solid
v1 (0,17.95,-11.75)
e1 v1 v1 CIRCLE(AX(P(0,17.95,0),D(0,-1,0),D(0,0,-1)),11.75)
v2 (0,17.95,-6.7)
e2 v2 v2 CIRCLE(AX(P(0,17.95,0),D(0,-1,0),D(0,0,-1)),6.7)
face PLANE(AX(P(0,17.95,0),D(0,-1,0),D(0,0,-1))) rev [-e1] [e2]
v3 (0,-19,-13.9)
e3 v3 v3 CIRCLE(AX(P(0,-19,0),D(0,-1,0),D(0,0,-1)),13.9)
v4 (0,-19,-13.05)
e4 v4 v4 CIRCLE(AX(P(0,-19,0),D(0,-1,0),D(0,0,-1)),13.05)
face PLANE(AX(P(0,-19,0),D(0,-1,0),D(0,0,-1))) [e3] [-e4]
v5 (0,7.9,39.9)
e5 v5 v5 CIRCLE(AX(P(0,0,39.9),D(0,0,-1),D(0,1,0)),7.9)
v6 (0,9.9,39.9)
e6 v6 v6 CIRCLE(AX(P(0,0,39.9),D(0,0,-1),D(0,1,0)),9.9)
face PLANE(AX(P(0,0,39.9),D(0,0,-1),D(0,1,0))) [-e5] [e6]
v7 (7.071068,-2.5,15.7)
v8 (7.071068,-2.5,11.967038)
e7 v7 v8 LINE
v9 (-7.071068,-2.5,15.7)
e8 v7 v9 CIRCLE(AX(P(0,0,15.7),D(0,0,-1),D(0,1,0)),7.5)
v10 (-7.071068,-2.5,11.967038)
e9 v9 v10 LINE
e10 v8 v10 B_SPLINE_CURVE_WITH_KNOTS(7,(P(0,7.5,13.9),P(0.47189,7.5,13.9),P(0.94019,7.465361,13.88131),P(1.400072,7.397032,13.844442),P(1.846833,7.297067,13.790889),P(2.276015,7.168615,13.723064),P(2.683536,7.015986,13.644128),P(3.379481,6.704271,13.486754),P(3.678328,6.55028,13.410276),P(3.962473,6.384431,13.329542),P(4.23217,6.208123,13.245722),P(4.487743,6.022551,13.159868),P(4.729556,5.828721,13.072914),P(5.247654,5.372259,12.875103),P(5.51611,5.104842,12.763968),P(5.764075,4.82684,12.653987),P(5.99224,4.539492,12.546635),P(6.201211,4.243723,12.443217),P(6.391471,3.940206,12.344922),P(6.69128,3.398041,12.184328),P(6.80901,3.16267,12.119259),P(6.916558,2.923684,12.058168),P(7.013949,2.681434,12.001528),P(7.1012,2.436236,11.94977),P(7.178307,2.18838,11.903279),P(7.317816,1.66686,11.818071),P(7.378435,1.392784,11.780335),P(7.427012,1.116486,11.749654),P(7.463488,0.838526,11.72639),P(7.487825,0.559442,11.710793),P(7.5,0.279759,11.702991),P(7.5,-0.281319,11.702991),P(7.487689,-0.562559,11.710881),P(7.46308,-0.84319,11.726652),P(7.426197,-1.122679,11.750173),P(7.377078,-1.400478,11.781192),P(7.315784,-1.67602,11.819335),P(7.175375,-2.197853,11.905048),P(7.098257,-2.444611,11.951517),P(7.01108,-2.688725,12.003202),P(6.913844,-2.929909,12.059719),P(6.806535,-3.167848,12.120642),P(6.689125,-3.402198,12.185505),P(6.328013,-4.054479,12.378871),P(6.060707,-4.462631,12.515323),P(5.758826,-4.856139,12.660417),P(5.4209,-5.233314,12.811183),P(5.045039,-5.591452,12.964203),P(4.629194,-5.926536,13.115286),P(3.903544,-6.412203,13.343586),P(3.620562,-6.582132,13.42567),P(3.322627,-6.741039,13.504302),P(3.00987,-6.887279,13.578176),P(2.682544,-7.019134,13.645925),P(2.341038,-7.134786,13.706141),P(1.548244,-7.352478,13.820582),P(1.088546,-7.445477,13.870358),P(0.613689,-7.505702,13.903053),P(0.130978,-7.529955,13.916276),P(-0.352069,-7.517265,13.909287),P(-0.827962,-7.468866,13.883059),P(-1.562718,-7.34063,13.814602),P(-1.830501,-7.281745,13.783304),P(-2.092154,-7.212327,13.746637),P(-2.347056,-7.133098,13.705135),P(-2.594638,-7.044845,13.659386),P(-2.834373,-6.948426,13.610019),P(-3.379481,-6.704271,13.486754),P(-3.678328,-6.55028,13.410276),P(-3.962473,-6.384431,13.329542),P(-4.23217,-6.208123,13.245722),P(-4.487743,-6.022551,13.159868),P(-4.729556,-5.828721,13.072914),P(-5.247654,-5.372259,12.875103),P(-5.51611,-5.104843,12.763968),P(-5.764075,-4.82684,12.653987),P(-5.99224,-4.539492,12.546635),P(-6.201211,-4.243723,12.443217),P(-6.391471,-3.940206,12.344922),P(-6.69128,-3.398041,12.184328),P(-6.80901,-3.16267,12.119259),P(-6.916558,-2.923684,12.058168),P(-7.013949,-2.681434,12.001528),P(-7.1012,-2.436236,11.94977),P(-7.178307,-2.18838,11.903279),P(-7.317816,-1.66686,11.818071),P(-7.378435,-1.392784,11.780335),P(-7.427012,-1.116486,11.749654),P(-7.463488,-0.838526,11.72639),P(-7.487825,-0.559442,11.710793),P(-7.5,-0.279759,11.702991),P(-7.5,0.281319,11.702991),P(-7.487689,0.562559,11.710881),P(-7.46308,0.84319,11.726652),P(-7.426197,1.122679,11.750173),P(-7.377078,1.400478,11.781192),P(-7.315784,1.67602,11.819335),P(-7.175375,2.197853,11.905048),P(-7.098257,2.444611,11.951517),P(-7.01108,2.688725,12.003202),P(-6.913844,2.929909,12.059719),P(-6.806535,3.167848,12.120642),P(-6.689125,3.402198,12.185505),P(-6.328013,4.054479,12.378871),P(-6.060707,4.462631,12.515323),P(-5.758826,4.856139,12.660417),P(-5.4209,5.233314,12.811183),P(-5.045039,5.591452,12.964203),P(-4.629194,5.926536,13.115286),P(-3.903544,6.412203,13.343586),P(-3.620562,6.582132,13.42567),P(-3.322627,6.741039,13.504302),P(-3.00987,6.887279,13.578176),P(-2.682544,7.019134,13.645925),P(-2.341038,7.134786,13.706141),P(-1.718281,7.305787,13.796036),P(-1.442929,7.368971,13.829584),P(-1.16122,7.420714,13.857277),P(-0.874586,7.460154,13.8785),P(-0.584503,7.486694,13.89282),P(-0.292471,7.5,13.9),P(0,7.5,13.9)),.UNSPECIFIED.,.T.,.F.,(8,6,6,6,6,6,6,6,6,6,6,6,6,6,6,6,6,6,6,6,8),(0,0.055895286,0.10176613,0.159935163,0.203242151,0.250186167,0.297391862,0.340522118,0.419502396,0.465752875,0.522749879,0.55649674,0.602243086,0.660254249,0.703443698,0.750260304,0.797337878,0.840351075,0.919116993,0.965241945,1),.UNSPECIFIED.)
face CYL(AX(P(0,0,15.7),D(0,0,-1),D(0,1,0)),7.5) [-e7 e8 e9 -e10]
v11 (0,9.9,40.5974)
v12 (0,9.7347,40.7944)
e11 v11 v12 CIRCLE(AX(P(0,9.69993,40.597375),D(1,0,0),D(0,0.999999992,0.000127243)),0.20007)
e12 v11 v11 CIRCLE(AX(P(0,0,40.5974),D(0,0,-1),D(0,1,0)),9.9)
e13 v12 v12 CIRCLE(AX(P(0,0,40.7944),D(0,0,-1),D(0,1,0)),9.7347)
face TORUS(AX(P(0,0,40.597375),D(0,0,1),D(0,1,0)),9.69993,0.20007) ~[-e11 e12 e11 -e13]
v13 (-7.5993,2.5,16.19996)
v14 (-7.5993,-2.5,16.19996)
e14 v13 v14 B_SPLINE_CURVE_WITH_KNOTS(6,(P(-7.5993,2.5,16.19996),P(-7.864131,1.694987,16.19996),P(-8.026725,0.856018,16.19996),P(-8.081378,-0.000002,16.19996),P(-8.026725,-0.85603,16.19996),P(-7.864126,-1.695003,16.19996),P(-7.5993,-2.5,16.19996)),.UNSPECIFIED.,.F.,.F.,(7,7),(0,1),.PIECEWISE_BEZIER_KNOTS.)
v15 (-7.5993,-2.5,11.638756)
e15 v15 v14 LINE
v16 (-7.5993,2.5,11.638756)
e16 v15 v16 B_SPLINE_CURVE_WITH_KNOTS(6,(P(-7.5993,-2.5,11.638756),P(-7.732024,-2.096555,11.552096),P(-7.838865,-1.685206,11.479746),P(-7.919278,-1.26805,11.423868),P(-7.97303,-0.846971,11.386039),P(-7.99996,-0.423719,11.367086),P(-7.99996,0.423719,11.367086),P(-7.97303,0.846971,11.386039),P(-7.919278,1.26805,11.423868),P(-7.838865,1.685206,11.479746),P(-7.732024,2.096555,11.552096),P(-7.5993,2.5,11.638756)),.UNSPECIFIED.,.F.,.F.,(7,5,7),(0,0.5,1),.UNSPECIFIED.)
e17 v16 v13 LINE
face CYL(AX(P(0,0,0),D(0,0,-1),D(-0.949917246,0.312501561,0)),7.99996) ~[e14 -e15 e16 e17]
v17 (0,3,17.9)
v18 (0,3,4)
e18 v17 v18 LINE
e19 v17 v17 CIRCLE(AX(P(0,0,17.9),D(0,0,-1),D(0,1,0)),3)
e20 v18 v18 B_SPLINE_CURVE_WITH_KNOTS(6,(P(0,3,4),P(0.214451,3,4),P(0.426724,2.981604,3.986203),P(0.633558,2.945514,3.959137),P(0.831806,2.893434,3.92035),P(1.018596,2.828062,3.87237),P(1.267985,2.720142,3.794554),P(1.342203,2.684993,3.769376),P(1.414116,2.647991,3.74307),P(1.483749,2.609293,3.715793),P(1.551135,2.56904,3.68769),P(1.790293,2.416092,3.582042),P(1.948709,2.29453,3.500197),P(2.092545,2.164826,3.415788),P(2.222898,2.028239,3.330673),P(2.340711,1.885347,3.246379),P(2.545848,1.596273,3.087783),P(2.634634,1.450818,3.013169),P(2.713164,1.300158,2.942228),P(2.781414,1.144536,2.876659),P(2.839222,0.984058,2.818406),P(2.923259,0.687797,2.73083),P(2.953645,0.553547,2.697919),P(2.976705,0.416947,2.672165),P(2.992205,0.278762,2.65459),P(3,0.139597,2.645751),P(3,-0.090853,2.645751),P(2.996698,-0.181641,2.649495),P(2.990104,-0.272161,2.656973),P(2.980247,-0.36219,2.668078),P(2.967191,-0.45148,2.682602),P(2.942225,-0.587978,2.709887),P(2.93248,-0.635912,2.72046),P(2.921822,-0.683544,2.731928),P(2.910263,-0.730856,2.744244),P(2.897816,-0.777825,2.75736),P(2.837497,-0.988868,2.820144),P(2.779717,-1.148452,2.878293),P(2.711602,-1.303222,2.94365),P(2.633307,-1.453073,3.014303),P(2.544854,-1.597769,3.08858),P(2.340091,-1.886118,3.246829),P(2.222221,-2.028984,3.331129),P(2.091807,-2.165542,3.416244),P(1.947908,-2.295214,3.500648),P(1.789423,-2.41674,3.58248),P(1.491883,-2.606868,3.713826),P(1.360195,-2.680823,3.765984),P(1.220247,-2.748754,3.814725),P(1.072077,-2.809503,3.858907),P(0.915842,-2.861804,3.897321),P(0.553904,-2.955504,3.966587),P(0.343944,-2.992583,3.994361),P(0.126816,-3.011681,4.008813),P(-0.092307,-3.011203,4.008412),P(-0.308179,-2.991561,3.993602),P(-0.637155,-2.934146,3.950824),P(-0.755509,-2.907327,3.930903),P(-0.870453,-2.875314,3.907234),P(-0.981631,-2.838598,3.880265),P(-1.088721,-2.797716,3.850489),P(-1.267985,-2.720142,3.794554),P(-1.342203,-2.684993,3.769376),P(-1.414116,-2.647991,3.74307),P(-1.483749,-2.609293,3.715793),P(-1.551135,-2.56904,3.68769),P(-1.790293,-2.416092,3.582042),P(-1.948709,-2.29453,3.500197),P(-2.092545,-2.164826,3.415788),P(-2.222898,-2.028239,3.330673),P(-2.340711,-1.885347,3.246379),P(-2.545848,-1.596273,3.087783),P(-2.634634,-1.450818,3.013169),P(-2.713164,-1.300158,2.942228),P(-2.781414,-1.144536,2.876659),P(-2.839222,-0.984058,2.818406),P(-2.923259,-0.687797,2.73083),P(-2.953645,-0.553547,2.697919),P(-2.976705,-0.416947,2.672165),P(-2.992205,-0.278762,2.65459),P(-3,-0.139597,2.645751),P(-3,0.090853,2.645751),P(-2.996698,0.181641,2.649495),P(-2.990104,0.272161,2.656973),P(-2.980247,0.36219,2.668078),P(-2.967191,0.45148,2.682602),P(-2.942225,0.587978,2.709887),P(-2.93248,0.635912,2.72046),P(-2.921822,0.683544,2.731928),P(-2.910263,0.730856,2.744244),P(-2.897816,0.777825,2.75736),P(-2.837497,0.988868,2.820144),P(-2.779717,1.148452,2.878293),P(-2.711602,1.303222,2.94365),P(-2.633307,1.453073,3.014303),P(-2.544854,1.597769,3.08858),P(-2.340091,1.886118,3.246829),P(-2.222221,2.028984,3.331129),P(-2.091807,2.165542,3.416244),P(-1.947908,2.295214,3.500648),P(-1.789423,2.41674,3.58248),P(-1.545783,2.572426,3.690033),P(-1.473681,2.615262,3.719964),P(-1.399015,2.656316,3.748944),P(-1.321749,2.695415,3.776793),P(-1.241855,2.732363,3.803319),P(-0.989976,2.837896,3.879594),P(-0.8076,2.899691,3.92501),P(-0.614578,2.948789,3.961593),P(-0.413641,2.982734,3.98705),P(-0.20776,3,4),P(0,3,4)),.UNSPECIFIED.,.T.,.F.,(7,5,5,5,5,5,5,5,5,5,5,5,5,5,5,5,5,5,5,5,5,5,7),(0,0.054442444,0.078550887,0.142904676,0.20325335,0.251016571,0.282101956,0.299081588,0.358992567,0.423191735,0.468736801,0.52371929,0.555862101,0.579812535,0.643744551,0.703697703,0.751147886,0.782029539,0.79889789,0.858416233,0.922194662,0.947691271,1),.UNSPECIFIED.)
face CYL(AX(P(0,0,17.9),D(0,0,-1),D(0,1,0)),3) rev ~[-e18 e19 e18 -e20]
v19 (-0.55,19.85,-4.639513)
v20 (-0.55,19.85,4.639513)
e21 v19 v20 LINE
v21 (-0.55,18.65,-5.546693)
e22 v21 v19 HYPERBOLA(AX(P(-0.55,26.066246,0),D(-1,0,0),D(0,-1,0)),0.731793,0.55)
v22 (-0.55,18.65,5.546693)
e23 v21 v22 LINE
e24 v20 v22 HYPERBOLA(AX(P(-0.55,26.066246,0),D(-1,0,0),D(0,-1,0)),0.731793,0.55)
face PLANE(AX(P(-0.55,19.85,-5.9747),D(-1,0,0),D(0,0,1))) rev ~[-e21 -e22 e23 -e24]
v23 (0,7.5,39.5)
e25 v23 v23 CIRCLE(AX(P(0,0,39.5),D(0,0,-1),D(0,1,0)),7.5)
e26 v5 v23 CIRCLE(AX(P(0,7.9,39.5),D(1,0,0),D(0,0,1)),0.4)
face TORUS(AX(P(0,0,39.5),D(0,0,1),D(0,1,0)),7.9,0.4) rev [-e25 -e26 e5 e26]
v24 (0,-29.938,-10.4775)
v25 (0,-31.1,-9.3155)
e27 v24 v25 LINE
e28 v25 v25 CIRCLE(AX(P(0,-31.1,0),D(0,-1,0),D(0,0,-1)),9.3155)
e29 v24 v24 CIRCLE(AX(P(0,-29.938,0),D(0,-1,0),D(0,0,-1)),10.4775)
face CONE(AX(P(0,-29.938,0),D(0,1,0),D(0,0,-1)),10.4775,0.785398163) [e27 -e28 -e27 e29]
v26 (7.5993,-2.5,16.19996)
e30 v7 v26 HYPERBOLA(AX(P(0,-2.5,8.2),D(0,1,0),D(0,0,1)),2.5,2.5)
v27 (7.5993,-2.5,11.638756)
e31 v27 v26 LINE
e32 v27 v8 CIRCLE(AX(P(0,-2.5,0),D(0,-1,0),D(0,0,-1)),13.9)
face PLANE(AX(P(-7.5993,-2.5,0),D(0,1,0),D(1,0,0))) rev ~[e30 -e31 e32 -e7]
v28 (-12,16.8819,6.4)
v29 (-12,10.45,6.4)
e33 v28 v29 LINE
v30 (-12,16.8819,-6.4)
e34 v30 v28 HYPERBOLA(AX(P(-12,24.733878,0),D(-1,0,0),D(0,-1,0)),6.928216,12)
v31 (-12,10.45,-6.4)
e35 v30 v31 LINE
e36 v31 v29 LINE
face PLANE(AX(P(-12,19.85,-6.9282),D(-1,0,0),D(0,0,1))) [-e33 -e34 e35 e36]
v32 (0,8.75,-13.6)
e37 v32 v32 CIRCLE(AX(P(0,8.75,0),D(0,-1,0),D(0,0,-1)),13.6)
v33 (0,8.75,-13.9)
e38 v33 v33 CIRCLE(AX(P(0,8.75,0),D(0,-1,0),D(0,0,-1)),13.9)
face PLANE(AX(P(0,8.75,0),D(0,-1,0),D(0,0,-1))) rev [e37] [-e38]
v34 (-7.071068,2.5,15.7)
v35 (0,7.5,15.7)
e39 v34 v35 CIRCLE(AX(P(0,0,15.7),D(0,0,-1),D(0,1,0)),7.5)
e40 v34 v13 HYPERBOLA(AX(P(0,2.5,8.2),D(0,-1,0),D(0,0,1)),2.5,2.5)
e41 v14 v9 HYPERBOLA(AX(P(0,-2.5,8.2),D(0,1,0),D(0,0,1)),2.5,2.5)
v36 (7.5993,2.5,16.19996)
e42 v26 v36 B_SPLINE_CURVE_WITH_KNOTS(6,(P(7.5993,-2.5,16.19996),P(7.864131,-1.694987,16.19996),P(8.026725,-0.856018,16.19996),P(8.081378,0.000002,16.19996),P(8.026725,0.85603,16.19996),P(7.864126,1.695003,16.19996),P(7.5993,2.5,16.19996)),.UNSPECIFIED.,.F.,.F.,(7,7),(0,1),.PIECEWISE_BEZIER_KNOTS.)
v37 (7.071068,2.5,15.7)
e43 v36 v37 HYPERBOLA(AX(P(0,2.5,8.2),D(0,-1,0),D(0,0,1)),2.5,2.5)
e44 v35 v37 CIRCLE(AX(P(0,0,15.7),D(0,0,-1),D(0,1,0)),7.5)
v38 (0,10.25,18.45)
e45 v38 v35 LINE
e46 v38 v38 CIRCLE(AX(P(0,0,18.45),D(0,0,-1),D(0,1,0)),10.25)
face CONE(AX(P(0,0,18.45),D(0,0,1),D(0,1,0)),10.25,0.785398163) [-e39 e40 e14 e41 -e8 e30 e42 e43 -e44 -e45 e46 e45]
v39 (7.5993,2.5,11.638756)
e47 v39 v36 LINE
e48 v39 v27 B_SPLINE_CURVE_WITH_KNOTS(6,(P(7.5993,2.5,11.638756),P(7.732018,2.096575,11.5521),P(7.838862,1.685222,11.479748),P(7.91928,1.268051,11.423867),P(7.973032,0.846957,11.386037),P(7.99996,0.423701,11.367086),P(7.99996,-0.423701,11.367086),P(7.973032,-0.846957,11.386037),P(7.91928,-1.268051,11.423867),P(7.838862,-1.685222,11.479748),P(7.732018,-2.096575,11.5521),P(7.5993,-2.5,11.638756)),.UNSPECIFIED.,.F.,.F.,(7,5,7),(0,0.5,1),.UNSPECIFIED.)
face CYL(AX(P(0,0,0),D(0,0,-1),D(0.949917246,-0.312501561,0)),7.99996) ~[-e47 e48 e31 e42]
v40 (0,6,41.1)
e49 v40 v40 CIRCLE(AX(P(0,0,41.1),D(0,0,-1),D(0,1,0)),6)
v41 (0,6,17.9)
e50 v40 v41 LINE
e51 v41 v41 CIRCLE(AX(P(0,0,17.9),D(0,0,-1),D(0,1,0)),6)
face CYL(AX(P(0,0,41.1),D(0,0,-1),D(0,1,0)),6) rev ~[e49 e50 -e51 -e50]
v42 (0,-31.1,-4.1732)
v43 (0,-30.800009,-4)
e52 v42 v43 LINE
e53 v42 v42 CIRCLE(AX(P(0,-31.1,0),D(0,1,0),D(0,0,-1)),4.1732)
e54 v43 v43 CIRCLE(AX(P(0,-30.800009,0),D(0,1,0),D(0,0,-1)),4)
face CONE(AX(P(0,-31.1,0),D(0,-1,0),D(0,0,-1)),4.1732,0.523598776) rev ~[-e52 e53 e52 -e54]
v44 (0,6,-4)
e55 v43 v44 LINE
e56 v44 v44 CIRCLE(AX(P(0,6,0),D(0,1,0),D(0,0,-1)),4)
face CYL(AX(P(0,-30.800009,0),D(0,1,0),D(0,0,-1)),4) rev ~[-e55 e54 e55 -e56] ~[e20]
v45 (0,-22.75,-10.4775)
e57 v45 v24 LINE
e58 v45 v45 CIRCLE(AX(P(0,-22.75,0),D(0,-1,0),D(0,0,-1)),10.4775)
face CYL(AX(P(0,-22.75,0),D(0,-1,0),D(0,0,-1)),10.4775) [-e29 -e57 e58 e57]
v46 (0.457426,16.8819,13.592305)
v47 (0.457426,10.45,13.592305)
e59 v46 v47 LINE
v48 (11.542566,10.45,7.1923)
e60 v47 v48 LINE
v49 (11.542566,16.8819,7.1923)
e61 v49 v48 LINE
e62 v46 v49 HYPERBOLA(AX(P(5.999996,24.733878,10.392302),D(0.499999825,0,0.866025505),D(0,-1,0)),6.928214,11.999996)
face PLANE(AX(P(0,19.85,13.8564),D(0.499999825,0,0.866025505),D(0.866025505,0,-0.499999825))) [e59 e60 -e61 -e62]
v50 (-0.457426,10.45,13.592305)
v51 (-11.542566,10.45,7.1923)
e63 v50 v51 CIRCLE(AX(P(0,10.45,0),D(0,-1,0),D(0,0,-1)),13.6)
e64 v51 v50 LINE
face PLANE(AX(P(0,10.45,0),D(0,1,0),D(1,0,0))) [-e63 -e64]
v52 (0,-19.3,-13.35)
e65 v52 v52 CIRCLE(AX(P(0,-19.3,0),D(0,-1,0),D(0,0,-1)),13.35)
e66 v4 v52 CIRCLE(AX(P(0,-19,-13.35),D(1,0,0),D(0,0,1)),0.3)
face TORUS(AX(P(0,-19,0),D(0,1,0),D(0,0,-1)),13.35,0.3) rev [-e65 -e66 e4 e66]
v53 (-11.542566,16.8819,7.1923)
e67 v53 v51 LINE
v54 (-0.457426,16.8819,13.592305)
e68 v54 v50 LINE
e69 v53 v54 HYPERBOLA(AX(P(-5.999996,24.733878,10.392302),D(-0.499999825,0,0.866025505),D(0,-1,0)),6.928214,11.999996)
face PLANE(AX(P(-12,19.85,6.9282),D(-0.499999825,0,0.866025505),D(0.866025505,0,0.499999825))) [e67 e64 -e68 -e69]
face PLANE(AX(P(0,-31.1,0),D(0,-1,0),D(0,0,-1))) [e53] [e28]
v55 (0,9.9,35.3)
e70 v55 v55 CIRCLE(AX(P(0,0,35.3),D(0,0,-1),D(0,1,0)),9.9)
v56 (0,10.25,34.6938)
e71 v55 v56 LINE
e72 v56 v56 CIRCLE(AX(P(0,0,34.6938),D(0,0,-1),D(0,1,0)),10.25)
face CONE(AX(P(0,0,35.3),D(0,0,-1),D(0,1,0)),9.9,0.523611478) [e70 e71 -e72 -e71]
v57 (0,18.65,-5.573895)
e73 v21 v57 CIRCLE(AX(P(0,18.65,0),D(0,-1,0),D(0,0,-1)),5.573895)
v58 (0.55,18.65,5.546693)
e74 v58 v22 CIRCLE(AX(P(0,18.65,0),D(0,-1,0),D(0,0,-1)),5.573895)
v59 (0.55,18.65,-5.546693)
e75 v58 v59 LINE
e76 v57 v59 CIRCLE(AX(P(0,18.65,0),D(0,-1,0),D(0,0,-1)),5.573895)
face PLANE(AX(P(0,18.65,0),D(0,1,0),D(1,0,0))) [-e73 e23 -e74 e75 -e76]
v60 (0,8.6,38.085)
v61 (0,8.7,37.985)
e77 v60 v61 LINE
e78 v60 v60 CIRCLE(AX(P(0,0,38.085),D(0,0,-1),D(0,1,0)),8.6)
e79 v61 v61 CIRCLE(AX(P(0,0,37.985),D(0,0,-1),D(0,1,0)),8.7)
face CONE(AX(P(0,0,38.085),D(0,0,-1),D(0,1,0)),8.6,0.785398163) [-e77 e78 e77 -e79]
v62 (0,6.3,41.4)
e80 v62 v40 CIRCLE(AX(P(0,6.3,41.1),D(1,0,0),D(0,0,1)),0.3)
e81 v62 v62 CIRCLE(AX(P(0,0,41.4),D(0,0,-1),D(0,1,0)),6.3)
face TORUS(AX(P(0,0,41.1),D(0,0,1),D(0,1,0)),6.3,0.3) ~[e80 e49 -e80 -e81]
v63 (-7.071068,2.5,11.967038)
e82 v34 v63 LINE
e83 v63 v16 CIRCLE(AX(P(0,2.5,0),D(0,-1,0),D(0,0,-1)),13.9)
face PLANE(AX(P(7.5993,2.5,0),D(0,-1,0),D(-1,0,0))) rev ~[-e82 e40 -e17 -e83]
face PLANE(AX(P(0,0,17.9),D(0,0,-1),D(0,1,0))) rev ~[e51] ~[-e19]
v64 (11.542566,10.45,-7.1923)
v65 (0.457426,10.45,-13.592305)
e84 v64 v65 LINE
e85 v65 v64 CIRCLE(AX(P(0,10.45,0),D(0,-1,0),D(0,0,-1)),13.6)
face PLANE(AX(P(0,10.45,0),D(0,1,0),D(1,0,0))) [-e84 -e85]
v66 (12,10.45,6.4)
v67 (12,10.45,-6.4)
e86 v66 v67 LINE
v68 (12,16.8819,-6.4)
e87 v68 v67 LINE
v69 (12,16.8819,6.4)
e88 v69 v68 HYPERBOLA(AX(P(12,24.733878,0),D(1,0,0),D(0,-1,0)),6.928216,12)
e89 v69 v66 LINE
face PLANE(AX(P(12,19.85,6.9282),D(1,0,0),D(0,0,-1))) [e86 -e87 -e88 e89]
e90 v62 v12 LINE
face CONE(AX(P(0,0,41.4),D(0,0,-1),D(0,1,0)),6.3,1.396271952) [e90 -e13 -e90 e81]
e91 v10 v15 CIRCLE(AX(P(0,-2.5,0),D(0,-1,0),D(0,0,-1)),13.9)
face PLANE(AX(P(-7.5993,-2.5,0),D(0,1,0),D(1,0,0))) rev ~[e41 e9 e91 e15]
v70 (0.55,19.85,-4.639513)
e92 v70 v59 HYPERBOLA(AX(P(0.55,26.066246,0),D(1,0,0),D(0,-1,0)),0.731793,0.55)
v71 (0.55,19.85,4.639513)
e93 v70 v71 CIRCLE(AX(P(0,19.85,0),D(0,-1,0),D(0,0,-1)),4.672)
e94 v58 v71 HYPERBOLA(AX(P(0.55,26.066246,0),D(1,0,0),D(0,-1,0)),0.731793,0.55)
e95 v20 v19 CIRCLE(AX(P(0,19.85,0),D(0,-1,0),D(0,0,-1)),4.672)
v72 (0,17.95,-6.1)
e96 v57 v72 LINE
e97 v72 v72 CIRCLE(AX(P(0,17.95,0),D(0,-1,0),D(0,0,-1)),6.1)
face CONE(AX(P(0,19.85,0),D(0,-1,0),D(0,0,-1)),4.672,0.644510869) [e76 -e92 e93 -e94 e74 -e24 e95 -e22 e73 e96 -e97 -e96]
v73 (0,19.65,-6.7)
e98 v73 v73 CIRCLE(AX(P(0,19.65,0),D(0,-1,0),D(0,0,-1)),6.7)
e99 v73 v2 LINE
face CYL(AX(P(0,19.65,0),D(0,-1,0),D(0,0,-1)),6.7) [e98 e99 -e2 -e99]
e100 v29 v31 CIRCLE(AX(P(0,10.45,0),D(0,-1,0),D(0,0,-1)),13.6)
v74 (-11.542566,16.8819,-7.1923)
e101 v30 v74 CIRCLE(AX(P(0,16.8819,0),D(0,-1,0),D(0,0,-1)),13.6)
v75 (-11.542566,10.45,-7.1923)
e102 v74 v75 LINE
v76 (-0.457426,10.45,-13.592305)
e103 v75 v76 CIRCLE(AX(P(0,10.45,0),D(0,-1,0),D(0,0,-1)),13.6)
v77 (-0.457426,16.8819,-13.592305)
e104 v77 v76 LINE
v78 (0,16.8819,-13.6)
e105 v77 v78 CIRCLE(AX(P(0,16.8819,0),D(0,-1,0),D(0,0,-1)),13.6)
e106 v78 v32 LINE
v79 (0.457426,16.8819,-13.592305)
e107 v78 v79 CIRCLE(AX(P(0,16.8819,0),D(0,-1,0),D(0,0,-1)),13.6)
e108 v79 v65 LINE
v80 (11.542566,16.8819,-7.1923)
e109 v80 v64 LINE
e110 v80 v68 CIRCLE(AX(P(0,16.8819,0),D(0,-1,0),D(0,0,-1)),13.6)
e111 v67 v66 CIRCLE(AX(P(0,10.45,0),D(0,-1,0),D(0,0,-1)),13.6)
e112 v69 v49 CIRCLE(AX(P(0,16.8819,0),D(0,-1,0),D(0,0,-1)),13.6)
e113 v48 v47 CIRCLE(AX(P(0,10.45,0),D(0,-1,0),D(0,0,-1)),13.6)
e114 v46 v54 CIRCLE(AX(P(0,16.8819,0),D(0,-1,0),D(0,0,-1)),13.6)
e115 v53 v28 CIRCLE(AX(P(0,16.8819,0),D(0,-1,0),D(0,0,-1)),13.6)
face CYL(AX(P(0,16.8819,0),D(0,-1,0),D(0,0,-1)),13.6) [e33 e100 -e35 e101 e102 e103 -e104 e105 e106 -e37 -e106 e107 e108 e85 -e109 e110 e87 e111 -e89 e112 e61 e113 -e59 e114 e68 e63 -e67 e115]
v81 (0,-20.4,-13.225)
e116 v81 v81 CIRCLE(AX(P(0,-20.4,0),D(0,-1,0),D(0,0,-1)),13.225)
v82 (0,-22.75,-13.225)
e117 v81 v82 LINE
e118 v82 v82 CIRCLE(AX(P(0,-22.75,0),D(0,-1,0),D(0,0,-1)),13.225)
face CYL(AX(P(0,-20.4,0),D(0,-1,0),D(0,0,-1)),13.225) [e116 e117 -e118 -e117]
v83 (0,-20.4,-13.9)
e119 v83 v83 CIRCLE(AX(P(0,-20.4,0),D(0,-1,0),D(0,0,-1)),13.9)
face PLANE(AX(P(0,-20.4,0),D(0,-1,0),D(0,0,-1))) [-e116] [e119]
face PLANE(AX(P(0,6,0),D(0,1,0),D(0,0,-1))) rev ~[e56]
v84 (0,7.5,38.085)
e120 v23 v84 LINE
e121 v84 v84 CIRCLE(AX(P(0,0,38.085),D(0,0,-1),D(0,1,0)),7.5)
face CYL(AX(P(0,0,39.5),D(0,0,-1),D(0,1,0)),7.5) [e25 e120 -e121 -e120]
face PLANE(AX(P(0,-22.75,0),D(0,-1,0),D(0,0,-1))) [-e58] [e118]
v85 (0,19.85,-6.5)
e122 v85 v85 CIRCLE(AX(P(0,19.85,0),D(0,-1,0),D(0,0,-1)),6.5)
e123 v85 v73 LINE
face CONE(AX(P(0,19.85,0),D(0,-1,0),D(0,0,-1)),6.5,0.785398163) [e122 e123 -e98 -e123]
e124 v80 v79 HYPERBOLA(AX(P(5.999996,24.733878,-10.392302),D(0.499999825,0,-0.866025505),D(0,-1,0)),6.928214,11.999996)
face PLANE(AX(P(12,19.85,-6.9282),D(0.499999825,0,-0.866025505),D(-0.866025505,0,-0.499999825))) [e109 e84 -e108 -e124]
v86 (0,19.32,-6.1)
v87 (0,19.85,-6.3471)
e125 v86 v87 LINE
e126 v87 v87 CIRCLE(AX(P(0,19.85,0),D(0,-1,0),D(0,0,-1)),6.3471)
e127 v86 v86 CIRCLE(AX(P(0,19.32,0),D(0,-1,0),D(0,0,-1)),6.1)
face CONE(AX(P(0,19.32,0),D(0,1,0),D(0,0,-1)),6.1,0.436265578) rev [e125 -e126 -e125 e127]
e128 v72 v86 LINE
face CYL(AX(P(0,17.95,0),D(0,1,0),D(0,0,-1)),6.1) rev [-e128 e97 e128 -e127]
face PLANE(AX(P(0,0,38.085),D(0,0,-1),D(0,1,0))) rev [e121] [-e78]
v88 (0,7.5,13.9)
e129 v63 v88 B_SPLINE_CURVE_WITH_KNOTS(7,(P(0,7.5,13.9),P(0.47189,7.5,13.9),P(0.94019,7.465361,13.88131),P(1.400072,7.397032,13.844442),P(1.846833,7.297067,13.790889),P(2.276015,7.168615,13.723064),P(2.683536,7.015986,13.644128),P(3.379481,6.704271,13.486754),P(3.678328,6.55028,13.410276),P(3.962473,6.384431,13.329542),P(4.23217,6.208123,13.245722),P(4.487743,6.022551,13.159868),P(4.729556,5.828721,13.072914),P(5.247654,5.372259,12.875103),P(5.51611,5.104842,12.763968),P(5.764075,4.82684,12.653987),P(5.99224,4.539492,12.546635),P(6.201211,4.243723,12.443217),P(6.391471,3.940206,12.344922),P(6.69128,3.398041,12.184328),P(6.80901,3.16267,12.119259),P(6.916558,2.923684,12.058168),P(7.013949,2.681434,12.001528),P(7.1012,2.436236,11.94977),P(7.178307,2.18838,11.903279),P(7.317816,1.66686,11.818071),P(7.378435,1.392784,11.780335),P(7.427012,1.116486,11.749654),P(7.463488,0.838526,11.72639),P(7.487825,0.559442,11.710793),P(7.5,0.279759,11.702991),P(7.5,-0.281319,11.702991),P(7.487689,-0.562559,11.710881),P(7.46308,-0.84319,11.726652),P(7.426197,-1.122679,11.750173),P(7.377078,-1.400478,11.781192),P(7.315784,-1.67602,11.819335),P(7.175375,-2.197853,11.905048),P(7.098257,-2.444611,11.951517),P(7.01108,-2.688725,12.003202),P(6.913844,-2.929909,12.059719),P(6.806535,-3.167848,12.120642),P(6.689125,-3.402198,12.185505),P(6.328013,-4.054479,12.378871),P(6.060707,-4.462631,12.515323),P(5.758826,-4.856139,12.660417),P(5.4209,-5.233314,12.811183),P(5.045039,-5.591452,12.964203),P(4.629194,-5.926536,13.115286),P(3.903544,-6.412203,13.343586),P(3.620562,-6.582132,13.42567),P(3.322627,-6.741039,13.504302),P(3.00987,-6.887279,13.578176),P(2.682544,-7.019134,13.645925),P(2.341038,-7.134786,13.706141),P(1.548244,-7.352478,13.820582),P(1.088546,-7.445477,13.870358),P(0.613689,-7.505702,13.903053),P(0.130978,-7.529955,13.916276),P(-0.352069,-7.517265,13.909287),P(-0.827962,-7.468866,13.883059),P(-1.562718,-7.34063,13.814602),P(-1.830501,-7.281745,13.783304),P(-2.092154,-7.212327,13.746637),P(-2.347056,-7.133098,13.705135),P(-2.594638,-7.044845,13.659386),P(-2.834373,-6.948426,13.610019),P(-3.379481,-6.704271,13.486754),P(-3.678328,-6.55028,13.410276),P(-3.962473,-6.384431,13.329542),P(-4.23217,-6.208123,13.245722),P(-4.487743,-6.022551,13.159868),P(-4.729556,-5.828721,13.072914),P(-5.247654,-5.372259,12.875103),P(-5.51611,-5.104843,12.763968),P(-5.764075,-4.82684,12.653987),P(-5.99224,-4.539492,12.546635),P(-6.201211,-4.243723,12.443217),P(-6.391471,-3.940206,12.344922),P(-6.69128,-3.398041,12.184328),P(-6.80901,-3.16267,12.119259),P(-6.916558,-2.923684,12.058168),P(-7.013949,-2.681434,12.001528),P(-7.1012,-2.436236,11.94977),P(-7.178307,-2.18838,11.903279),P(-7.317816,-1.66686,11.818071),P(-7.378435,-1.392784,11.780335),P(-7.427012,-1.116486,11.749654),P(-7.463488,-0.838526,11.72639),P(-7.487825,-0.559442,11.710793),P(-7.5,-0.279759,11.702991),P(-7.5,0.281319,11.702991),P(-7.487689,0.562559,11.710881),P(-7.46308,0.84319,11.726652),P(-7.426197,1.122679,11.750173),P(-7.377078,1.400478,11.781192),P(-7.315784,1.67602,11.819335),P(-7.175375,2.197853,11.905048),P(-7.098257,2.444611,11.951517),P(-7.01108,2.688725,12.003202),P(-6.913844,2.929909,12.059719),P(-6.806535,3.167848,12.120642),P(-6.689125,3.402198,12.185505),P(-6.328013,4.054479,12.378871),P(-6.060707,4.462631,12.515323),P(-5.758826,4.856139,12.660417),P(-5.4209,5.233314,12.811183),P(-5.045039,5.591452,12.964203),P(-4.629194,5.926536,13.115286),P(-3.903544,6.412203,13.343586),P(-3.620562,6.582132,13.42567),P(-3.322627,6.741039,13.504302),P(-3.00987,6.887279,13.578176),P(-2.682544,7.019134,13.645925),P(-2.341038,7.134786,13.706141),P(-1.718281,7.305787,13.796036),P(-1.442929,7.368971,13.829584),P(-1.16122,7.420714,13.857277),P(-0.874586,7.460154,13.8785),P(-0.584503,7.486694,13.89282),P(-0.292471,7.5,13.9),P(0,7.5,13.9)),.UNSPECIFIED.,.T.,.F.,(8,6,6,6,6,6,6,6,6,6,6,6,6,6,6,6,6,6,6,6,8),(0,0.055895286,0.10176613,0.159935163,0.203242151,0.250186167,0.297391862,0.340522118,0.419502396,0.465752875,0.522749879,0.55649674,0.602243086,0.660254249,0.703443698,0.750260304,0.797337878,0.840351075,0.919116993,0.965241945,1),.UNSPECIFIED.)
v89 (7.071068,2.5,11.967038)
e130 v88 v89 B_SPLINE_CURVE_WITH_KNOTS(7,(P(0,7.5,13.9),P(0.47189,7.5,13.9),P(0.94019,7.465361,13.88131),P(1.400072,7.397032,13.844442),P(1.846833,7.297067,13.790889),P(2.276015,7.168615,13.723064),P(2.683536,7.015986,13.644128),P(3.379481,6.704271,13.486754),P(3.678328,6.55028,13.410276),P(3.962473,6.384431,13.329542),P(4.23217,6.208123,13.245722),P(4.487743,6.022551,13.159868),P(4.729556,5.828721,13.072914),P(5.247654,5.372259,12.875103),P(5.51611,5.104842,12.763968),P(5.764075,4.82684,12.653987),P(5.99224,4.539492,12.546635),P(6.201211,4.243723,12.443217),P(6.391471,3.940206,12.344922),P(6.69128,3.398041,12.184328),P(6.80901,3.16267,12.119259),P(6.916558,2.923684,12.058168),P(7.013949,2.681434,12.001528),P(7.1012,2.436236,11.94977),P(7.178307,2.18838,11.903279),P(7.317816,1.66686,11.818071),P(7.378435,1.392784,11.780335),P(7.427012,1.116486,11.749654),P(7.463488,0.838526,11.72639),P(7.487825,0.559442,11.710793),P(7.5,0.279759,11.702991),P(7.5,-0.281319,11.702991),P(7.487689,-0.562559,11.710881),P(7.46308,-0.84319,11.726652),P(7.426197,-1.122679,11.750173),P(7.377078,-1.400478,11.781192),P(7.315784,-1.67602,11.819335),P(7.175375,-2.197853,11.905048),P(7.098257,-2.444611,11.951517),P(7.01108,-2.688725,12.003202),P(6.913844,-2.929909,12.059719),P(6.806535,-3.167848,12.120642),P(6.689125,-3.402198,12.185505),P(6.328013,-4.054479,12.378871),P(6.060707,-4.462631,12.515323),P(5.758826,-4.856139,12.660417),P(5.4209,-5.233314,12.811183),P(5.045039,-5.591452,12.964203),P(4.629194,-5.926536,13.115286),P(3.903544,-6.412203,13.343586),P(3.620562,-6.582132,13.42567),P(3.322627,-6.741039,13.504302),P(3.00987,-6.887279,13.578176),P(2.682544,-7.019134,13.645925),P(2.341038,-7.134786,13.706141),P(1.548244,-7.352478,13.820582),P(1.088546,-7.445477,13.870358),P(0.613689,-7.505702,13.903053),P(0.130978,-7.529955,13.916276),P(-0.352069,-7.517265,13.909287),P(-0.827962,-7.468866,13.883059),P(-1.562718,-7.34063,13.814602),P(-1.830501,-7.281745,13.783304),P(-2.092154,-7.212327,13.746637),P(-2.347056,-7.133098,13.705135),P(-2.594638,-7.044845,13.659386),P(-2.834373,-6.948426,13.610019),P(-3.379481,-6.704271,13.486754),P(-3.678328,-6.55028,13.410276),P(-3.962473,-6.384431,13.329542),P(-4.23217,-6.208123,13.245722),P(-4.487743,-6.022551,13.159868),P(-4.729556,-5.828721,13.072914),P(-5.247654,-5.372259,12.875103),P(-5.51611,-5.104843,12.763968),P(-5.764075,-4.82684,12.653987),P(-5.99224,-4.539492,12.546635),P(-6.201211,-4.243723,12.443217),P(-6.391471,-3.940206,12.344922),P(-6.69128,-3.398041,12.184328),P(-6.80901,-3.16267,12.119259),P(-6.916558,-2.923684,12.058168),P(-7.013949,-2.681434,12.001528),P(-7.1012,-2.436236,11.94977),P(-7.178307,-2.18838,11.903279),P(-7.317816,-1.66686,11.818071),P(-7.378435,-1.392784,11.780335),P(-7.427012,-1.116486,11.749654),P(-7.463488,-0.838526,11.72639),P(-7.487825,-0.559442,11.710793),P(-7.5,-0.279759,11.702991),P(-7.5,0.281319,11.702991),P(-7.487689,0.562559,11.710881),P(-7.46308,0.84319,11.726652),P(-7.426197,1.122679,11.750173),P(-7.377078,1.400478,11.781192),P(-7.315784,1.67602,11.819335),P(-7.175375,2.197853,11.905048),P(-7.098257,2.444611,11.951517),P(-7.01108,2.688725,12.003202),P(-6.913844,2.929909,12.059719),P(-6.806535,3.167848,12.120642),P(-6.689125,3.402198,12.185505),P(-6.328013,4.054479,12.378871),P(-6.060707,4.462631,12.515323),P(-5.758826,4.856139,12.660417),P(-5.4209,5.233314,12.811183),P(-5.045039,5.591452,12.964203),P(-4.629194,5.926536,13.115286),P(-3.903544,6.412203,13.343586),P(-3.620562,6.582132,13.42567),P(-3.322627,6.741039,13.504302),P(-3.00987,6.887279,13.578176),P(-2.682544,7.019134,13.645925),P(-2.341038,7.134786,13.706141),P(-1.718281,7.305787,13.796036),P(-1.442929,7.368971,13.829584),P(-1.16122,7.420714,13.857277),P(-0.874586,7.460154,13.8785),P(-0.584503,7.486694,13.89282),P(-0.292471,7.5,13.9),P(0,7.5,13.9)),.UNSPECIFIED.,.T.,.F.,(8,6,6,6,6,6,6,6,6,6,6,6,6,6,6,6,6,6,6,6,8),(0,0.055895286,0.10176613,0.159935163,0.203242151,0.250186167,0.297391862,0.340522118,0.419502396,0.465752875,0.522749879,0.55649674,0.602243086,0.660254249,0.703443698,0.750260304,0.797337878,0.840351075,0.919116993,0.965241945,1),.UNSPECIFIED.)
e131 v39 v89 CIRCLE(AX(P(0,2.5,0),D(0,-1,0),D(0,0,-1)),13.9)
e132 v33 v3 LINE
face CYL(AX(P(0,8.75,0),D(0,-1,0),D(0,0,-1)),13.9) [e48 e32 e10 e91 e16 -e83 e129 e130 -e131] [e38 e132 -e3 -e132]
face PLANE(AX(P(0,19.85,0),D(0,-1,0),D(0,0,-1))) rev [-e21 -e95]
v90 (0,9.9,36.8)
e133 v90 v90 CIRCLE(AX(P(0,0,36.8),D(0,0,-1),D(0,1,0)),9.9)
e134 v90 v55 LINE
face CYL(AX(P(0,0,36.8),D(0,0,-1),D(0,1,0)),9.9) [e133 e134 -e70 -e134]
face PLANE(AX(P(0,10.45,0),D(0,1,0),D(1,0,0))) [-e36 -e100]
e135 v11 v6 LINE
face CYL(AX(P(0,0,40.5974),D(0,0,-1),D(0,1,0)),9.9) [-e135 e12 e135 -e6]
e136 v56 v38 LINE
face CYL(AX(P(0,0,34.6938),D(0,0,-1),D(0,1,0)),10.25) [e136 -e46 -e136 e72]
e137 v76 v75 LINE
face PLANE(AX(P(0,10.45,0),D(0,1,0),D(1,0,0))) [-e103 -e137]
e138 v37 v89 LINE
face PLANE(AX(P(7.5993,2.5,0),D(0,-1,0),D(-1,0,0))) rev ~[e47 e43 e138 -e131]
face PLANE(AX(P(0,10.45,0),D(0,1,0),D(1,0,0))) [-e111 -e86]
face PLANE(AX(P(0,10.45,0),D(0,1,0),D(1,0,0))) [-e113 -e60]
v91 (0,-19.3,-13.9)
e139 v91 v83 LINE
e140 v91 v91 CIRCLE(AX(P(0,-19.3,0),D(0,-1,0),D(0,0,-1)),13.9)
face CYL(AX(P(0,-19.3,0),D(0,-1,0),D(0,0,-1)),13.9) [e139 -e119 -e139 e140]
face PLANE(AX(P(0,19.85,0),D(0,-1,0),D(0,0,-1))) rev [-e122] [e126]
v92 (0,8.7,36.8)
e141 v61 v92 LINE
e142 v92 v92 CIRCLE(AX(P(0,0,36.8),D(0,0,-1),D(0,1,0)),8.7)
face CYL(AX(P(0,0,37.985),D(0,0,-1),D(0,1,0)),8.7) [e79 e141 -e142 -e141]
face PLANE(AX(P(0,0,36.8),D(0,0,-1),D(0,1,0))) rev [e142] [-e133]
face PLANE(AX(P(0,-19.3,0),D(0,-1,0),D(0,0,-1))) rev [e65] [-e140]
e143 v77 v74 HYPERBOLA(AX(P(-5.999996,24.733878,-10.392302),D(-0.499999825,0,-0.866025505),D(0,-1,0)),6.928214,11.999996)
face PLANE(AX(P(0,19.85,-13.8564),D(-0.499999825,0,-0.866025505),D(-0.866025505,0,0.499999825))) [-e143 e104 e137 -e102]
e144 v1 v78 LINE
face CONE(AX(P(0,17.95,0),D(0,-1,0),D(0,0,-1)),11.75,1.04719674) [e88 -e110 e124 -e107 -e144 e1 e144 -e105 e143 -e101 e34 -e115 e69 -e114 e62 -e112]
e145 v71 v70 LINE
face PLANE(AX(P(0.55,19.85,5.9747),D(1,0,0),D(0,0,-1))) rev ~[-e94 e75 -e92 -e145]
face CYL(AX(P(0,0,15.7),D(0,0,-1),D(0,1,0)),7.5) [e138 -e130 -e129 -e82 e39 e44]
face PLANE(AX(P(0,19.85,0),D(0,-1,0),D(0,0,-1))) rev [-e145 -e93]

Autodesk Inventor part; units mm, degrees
sketch "Sketch_19" plane through (0, 0, 0) normal (1, 0, 0) x (0, 1, 0)
  line L0 (-31.1, 0) -> (19.85, 0)
  line L1 (19.85, 0) -> (19.85, -4.672)
  line L2 (19.85, -4.672) -> (17.95, -6.1)
  line L3 (17.95, -6.1) -> (19.32, -6.1)
  line L4 (19.32, -6.1) -> (19.85, -6.3471)
  line L5 (19.85, -6.3471) -> (19.85, -6.5)
  line L6 (19.85, -6.5) -> (19.65, -6.7)
  line L7 (19.65, -6.7) -> (17.95, -6.7)
  line L8 (17.95, -6.7) -> (17.95, -11.75)
  line L9 (17.95, -11.75) -> (16.8819, -13.6)
  line L10 (16.8819, -13.6) -> (8.75, -13.6)
  line L11 (8.75, -13.6) -> (8.75, -13.9)
  line L12 (8.75, -13.9) -> (-19, -13.9)
  line L13 (-19, -13.9) -> (-19, -13.05)
  arc A0 (-19, -13.05) -> (-19.3, -13.35) centre (-19, -13.35) ccw
  line L14 (-19.3, -13.35) -> (-19.3, -13.9)
  line L15 (-19.3, -13.9) -> (-20.4, -13.9)
  line L16 (-20.4, -13.9) -> (-20.4, -13.225)
  line L17 (-20.4, -13.225) -> (-22.75, -13.225)
  line L18 (-22.75, -13.225) -> (-22.75, -10.4775)
  line L19 (-22.75, -10.4775) -> (-29.938, -10.4775)
  line L20 (-29.938, -10.4775) -> (-31.1, -9.3155)
  line L21 (-31.1, -9.3155) -> (-31.1, 0)
  line L22 (-31.1, 0) -> (19.85, 0)
revolve "Revolution1" add sketch "Sketch_19" angle 360 about axis through (0, -31.1, 0) along (0, -1, 0)
thread "Thread1" size "G20.955x1.814" designation "G 1/2" class "A" standard "ISO Pipe Threads" full length
sketch "Sketch_15" plane through (0, 19.85, 0) normal (0, 1, 0) x (1, 0, 0)
  line L0 (-24, -13.8564) -> (0, -27.7128)
  line L1 (0, -27.7128) -> (24, -13.8564)
  line L2 (24, -13.8564) -> (24, 13.8564)
  line L3 (24, 13.8564) -> (0, 27.7128)
  line L4 (0, 27.7128) -> (-24, 13.8564)
  line L5 (-24, 13.8564) -> (-24, -13.8564)
  line L6 (-12, -6.9282) -> (0, -13.8564)
  line L7 (0, -13.8564) -> (12, -6.9282)
  line L8 (12, -6.9282) -> (12, 6.9282)
  line L9 (12, 6.9282) -> (0, 13.8564)
  line L10 (0, 13.8564) -> (-12, 6.9282)
  line L11 (-12, 6.9282) -> (-12, -6.9282)
extrude "Extrusion1" cut sketch "Sketch_15" against normal blind 9.4
sketch "Sketch_16" plane through (0, 19.85, 0) normal (0, 1, 0) x (1, 0, 0)
  line L0 (-0.55, 5.9747) -> (-0.55, -5.9747)
  arc A0 (-0.55, -5.9747) -> (0.55, -5.9747) centre (0, 0) ccw
  line L1 (0.55, -5.9747) -> (0.55, 5.9747)
  arc A1 (0.55, 5.9747) -> (-0.55, 5.9747) centre (0, 0) ccw
extrude "Extrusion2" cut sketch "Sketch_16" against normal blind 1.2
sketch "Sketch_17" plane through (0, 0, 0) normal (1, 0, 0) x (0, 1, 0)
  line L0 (0, 0) -> (0, 41.4)
  line L1 (0, 41.4) -> (6.3, 41.4)
  line L2 (6.3, 41.4) -> (9.7347, 40.7944)
  arc A0 (9.9, 40.5974) -> (9.7347, 40.7944) centre (9.7, 40.5974) ccw
  line L3 (9.9, 40.5974) -> (9.9, 39.9)
  line L4 (9.9, 39.9) -> (7.9, 39.9)
  arc A1 (7.9, 39.9) -> (7.5, 39.5) centre (7.9, 39.5) ccw
  line L5 (7.5, 39.5) -> (7.5, 38.085)
  line L6 (7.5, 38.085) -> (8.6, 38.085)
  line L7 (8.6, 38.085) -> (8.7, 37.985)
  line L8 (8.7, 37.985) -> (8.7, 36.8)
  line L9 (8.7, 36.8) -> (9.9, 36.8)
  line L10 (9.9, 36.8) -> (9.9, 35.3)
  line L11 (9.9, 35.3) -> (10.25, 34.6938)
  line L12 (10.25, 34.6938) -> (10.25, 18.45)
  line L13 (10.25, 18.45) -> (7.5, 15.7)
  line L14 (7.5, 15.7) -> (7.5, 0)
  line L15 (7.5, 0) -> (0, 0)
  line L16 (0, 0) -> (0, 41.4)
revolve "Revolution2" add sketch "Sketch_17" angle 360 about axis through (0, 0, 0) along (0, 0, -1)
sketch "Sketch_18" plane through (0, 0, 0) normal (0, 0, 1) x (1, 0, 0)
  arc A0 (-7.5993, 2.5) -> (-7.5993, -2.5) centre (0, 0) ccw
  line L0 (-7.5993, -2.5) -> (7.5993, -2.5)
  arc A1 (7.5993, -2.5) -> (7.5993, 2.5) centre (0, 0) ccw
  line L1 (7.5993, 2.5) -> (-7.5993, 2.5)
extrude "Extrusion3" add sketch "Sketch_18" along normal blind 20.7
sketch "Sketch_5" plane through (0, 0, 0) normal (1, 0, 0) x (0, 1, 0)
  line L0 (0, 0) -> (0, 41.4)
  line L1 (0, 41.4) -> (6.3, 41.4)
  arc A0 (6.3, 41.4) -> (6, 41.1) centre (6.3, 41.1) ccw
  line L2 (6, 41.1) -> (6, 17.9)
  line L3 (6, 17.9) -> (3, 17.9)
  line L4 (3, 17.9) -> (3, 0)
  line L5 (3, 0) -> (0, 0)
  line L6 (0, 0) -> (0, 41.4)
revolve "Revolution3" cut sketch "Sketch_5" angle 360 about axis through (0, 0, 0) along (0, 0, -1)
sketch "Sketch7" plane through (0, -31.1, 0) normal (0, -1, 0) x (1, 0, 0)
  point P0 (0, 0)
hole "Hole1" at (0, -31.1, 0) direction (0, 1, 0) diameter 8 depth 37.1 countersink diameter 8.3464 countersink angle 60
ref_plane "FDT_MOUNT_XY" through (0, -22.75, 0) normal (0, 1, 0) x (-1, 0, 0)
ref_plane "FDT_MOUNT_YZ" through (0, -22.75, 0) normal (-1, 0, 0) x (0, 0, 1)
ref_plane "FDT_MOUNT_ZX" through (0, -22.75, 0) normal (0, 0, 1) x (0, 1, 0)
ref_plane "FDT_SCHLAUCH_XY" through (0, 0, 17.9) normal (0, 0, 1) x (1, 0, 0)
ref_plane "FDT_SCHLAUCH_YZ" through (0, 0, 17.9) normal (1, 0, 0) x (0, 1, 0)
ref_plane "FDT_SCHLAUCH_ZX" through (0, 0, 17.9) normal (0, 1, 0) x (0, 0, 1)
ref_plane "Zylinder_XY" through (0, -31.1, 0) normal (0, 1, 0) x (1, 0, 0)
ref_plane "Zylinder_YZ" through (0, -31.1, 0) normal (1, 0, 0) x (0, 0, -1)
ref_plane "Zylinder_ZX" through (0, -31.1, 0) normal (0, 0, -1) x (0, 1, 0)
ref_plane "anbau_XY" through (0, -22.75, 0) normal (0, 1, 0) x (1, 0, 0)
ref_plane "anbau_YZ" through (0, -22.75, 0) normal (1, 0, 0) x (0, 0, -1)
ref_plane "anbau_ZX" through (0, -22.75, 0) normal (0, 0, -1) x (0, 1, 0)
properties part number "193152 GRLA-1/2-QS-12-D"
